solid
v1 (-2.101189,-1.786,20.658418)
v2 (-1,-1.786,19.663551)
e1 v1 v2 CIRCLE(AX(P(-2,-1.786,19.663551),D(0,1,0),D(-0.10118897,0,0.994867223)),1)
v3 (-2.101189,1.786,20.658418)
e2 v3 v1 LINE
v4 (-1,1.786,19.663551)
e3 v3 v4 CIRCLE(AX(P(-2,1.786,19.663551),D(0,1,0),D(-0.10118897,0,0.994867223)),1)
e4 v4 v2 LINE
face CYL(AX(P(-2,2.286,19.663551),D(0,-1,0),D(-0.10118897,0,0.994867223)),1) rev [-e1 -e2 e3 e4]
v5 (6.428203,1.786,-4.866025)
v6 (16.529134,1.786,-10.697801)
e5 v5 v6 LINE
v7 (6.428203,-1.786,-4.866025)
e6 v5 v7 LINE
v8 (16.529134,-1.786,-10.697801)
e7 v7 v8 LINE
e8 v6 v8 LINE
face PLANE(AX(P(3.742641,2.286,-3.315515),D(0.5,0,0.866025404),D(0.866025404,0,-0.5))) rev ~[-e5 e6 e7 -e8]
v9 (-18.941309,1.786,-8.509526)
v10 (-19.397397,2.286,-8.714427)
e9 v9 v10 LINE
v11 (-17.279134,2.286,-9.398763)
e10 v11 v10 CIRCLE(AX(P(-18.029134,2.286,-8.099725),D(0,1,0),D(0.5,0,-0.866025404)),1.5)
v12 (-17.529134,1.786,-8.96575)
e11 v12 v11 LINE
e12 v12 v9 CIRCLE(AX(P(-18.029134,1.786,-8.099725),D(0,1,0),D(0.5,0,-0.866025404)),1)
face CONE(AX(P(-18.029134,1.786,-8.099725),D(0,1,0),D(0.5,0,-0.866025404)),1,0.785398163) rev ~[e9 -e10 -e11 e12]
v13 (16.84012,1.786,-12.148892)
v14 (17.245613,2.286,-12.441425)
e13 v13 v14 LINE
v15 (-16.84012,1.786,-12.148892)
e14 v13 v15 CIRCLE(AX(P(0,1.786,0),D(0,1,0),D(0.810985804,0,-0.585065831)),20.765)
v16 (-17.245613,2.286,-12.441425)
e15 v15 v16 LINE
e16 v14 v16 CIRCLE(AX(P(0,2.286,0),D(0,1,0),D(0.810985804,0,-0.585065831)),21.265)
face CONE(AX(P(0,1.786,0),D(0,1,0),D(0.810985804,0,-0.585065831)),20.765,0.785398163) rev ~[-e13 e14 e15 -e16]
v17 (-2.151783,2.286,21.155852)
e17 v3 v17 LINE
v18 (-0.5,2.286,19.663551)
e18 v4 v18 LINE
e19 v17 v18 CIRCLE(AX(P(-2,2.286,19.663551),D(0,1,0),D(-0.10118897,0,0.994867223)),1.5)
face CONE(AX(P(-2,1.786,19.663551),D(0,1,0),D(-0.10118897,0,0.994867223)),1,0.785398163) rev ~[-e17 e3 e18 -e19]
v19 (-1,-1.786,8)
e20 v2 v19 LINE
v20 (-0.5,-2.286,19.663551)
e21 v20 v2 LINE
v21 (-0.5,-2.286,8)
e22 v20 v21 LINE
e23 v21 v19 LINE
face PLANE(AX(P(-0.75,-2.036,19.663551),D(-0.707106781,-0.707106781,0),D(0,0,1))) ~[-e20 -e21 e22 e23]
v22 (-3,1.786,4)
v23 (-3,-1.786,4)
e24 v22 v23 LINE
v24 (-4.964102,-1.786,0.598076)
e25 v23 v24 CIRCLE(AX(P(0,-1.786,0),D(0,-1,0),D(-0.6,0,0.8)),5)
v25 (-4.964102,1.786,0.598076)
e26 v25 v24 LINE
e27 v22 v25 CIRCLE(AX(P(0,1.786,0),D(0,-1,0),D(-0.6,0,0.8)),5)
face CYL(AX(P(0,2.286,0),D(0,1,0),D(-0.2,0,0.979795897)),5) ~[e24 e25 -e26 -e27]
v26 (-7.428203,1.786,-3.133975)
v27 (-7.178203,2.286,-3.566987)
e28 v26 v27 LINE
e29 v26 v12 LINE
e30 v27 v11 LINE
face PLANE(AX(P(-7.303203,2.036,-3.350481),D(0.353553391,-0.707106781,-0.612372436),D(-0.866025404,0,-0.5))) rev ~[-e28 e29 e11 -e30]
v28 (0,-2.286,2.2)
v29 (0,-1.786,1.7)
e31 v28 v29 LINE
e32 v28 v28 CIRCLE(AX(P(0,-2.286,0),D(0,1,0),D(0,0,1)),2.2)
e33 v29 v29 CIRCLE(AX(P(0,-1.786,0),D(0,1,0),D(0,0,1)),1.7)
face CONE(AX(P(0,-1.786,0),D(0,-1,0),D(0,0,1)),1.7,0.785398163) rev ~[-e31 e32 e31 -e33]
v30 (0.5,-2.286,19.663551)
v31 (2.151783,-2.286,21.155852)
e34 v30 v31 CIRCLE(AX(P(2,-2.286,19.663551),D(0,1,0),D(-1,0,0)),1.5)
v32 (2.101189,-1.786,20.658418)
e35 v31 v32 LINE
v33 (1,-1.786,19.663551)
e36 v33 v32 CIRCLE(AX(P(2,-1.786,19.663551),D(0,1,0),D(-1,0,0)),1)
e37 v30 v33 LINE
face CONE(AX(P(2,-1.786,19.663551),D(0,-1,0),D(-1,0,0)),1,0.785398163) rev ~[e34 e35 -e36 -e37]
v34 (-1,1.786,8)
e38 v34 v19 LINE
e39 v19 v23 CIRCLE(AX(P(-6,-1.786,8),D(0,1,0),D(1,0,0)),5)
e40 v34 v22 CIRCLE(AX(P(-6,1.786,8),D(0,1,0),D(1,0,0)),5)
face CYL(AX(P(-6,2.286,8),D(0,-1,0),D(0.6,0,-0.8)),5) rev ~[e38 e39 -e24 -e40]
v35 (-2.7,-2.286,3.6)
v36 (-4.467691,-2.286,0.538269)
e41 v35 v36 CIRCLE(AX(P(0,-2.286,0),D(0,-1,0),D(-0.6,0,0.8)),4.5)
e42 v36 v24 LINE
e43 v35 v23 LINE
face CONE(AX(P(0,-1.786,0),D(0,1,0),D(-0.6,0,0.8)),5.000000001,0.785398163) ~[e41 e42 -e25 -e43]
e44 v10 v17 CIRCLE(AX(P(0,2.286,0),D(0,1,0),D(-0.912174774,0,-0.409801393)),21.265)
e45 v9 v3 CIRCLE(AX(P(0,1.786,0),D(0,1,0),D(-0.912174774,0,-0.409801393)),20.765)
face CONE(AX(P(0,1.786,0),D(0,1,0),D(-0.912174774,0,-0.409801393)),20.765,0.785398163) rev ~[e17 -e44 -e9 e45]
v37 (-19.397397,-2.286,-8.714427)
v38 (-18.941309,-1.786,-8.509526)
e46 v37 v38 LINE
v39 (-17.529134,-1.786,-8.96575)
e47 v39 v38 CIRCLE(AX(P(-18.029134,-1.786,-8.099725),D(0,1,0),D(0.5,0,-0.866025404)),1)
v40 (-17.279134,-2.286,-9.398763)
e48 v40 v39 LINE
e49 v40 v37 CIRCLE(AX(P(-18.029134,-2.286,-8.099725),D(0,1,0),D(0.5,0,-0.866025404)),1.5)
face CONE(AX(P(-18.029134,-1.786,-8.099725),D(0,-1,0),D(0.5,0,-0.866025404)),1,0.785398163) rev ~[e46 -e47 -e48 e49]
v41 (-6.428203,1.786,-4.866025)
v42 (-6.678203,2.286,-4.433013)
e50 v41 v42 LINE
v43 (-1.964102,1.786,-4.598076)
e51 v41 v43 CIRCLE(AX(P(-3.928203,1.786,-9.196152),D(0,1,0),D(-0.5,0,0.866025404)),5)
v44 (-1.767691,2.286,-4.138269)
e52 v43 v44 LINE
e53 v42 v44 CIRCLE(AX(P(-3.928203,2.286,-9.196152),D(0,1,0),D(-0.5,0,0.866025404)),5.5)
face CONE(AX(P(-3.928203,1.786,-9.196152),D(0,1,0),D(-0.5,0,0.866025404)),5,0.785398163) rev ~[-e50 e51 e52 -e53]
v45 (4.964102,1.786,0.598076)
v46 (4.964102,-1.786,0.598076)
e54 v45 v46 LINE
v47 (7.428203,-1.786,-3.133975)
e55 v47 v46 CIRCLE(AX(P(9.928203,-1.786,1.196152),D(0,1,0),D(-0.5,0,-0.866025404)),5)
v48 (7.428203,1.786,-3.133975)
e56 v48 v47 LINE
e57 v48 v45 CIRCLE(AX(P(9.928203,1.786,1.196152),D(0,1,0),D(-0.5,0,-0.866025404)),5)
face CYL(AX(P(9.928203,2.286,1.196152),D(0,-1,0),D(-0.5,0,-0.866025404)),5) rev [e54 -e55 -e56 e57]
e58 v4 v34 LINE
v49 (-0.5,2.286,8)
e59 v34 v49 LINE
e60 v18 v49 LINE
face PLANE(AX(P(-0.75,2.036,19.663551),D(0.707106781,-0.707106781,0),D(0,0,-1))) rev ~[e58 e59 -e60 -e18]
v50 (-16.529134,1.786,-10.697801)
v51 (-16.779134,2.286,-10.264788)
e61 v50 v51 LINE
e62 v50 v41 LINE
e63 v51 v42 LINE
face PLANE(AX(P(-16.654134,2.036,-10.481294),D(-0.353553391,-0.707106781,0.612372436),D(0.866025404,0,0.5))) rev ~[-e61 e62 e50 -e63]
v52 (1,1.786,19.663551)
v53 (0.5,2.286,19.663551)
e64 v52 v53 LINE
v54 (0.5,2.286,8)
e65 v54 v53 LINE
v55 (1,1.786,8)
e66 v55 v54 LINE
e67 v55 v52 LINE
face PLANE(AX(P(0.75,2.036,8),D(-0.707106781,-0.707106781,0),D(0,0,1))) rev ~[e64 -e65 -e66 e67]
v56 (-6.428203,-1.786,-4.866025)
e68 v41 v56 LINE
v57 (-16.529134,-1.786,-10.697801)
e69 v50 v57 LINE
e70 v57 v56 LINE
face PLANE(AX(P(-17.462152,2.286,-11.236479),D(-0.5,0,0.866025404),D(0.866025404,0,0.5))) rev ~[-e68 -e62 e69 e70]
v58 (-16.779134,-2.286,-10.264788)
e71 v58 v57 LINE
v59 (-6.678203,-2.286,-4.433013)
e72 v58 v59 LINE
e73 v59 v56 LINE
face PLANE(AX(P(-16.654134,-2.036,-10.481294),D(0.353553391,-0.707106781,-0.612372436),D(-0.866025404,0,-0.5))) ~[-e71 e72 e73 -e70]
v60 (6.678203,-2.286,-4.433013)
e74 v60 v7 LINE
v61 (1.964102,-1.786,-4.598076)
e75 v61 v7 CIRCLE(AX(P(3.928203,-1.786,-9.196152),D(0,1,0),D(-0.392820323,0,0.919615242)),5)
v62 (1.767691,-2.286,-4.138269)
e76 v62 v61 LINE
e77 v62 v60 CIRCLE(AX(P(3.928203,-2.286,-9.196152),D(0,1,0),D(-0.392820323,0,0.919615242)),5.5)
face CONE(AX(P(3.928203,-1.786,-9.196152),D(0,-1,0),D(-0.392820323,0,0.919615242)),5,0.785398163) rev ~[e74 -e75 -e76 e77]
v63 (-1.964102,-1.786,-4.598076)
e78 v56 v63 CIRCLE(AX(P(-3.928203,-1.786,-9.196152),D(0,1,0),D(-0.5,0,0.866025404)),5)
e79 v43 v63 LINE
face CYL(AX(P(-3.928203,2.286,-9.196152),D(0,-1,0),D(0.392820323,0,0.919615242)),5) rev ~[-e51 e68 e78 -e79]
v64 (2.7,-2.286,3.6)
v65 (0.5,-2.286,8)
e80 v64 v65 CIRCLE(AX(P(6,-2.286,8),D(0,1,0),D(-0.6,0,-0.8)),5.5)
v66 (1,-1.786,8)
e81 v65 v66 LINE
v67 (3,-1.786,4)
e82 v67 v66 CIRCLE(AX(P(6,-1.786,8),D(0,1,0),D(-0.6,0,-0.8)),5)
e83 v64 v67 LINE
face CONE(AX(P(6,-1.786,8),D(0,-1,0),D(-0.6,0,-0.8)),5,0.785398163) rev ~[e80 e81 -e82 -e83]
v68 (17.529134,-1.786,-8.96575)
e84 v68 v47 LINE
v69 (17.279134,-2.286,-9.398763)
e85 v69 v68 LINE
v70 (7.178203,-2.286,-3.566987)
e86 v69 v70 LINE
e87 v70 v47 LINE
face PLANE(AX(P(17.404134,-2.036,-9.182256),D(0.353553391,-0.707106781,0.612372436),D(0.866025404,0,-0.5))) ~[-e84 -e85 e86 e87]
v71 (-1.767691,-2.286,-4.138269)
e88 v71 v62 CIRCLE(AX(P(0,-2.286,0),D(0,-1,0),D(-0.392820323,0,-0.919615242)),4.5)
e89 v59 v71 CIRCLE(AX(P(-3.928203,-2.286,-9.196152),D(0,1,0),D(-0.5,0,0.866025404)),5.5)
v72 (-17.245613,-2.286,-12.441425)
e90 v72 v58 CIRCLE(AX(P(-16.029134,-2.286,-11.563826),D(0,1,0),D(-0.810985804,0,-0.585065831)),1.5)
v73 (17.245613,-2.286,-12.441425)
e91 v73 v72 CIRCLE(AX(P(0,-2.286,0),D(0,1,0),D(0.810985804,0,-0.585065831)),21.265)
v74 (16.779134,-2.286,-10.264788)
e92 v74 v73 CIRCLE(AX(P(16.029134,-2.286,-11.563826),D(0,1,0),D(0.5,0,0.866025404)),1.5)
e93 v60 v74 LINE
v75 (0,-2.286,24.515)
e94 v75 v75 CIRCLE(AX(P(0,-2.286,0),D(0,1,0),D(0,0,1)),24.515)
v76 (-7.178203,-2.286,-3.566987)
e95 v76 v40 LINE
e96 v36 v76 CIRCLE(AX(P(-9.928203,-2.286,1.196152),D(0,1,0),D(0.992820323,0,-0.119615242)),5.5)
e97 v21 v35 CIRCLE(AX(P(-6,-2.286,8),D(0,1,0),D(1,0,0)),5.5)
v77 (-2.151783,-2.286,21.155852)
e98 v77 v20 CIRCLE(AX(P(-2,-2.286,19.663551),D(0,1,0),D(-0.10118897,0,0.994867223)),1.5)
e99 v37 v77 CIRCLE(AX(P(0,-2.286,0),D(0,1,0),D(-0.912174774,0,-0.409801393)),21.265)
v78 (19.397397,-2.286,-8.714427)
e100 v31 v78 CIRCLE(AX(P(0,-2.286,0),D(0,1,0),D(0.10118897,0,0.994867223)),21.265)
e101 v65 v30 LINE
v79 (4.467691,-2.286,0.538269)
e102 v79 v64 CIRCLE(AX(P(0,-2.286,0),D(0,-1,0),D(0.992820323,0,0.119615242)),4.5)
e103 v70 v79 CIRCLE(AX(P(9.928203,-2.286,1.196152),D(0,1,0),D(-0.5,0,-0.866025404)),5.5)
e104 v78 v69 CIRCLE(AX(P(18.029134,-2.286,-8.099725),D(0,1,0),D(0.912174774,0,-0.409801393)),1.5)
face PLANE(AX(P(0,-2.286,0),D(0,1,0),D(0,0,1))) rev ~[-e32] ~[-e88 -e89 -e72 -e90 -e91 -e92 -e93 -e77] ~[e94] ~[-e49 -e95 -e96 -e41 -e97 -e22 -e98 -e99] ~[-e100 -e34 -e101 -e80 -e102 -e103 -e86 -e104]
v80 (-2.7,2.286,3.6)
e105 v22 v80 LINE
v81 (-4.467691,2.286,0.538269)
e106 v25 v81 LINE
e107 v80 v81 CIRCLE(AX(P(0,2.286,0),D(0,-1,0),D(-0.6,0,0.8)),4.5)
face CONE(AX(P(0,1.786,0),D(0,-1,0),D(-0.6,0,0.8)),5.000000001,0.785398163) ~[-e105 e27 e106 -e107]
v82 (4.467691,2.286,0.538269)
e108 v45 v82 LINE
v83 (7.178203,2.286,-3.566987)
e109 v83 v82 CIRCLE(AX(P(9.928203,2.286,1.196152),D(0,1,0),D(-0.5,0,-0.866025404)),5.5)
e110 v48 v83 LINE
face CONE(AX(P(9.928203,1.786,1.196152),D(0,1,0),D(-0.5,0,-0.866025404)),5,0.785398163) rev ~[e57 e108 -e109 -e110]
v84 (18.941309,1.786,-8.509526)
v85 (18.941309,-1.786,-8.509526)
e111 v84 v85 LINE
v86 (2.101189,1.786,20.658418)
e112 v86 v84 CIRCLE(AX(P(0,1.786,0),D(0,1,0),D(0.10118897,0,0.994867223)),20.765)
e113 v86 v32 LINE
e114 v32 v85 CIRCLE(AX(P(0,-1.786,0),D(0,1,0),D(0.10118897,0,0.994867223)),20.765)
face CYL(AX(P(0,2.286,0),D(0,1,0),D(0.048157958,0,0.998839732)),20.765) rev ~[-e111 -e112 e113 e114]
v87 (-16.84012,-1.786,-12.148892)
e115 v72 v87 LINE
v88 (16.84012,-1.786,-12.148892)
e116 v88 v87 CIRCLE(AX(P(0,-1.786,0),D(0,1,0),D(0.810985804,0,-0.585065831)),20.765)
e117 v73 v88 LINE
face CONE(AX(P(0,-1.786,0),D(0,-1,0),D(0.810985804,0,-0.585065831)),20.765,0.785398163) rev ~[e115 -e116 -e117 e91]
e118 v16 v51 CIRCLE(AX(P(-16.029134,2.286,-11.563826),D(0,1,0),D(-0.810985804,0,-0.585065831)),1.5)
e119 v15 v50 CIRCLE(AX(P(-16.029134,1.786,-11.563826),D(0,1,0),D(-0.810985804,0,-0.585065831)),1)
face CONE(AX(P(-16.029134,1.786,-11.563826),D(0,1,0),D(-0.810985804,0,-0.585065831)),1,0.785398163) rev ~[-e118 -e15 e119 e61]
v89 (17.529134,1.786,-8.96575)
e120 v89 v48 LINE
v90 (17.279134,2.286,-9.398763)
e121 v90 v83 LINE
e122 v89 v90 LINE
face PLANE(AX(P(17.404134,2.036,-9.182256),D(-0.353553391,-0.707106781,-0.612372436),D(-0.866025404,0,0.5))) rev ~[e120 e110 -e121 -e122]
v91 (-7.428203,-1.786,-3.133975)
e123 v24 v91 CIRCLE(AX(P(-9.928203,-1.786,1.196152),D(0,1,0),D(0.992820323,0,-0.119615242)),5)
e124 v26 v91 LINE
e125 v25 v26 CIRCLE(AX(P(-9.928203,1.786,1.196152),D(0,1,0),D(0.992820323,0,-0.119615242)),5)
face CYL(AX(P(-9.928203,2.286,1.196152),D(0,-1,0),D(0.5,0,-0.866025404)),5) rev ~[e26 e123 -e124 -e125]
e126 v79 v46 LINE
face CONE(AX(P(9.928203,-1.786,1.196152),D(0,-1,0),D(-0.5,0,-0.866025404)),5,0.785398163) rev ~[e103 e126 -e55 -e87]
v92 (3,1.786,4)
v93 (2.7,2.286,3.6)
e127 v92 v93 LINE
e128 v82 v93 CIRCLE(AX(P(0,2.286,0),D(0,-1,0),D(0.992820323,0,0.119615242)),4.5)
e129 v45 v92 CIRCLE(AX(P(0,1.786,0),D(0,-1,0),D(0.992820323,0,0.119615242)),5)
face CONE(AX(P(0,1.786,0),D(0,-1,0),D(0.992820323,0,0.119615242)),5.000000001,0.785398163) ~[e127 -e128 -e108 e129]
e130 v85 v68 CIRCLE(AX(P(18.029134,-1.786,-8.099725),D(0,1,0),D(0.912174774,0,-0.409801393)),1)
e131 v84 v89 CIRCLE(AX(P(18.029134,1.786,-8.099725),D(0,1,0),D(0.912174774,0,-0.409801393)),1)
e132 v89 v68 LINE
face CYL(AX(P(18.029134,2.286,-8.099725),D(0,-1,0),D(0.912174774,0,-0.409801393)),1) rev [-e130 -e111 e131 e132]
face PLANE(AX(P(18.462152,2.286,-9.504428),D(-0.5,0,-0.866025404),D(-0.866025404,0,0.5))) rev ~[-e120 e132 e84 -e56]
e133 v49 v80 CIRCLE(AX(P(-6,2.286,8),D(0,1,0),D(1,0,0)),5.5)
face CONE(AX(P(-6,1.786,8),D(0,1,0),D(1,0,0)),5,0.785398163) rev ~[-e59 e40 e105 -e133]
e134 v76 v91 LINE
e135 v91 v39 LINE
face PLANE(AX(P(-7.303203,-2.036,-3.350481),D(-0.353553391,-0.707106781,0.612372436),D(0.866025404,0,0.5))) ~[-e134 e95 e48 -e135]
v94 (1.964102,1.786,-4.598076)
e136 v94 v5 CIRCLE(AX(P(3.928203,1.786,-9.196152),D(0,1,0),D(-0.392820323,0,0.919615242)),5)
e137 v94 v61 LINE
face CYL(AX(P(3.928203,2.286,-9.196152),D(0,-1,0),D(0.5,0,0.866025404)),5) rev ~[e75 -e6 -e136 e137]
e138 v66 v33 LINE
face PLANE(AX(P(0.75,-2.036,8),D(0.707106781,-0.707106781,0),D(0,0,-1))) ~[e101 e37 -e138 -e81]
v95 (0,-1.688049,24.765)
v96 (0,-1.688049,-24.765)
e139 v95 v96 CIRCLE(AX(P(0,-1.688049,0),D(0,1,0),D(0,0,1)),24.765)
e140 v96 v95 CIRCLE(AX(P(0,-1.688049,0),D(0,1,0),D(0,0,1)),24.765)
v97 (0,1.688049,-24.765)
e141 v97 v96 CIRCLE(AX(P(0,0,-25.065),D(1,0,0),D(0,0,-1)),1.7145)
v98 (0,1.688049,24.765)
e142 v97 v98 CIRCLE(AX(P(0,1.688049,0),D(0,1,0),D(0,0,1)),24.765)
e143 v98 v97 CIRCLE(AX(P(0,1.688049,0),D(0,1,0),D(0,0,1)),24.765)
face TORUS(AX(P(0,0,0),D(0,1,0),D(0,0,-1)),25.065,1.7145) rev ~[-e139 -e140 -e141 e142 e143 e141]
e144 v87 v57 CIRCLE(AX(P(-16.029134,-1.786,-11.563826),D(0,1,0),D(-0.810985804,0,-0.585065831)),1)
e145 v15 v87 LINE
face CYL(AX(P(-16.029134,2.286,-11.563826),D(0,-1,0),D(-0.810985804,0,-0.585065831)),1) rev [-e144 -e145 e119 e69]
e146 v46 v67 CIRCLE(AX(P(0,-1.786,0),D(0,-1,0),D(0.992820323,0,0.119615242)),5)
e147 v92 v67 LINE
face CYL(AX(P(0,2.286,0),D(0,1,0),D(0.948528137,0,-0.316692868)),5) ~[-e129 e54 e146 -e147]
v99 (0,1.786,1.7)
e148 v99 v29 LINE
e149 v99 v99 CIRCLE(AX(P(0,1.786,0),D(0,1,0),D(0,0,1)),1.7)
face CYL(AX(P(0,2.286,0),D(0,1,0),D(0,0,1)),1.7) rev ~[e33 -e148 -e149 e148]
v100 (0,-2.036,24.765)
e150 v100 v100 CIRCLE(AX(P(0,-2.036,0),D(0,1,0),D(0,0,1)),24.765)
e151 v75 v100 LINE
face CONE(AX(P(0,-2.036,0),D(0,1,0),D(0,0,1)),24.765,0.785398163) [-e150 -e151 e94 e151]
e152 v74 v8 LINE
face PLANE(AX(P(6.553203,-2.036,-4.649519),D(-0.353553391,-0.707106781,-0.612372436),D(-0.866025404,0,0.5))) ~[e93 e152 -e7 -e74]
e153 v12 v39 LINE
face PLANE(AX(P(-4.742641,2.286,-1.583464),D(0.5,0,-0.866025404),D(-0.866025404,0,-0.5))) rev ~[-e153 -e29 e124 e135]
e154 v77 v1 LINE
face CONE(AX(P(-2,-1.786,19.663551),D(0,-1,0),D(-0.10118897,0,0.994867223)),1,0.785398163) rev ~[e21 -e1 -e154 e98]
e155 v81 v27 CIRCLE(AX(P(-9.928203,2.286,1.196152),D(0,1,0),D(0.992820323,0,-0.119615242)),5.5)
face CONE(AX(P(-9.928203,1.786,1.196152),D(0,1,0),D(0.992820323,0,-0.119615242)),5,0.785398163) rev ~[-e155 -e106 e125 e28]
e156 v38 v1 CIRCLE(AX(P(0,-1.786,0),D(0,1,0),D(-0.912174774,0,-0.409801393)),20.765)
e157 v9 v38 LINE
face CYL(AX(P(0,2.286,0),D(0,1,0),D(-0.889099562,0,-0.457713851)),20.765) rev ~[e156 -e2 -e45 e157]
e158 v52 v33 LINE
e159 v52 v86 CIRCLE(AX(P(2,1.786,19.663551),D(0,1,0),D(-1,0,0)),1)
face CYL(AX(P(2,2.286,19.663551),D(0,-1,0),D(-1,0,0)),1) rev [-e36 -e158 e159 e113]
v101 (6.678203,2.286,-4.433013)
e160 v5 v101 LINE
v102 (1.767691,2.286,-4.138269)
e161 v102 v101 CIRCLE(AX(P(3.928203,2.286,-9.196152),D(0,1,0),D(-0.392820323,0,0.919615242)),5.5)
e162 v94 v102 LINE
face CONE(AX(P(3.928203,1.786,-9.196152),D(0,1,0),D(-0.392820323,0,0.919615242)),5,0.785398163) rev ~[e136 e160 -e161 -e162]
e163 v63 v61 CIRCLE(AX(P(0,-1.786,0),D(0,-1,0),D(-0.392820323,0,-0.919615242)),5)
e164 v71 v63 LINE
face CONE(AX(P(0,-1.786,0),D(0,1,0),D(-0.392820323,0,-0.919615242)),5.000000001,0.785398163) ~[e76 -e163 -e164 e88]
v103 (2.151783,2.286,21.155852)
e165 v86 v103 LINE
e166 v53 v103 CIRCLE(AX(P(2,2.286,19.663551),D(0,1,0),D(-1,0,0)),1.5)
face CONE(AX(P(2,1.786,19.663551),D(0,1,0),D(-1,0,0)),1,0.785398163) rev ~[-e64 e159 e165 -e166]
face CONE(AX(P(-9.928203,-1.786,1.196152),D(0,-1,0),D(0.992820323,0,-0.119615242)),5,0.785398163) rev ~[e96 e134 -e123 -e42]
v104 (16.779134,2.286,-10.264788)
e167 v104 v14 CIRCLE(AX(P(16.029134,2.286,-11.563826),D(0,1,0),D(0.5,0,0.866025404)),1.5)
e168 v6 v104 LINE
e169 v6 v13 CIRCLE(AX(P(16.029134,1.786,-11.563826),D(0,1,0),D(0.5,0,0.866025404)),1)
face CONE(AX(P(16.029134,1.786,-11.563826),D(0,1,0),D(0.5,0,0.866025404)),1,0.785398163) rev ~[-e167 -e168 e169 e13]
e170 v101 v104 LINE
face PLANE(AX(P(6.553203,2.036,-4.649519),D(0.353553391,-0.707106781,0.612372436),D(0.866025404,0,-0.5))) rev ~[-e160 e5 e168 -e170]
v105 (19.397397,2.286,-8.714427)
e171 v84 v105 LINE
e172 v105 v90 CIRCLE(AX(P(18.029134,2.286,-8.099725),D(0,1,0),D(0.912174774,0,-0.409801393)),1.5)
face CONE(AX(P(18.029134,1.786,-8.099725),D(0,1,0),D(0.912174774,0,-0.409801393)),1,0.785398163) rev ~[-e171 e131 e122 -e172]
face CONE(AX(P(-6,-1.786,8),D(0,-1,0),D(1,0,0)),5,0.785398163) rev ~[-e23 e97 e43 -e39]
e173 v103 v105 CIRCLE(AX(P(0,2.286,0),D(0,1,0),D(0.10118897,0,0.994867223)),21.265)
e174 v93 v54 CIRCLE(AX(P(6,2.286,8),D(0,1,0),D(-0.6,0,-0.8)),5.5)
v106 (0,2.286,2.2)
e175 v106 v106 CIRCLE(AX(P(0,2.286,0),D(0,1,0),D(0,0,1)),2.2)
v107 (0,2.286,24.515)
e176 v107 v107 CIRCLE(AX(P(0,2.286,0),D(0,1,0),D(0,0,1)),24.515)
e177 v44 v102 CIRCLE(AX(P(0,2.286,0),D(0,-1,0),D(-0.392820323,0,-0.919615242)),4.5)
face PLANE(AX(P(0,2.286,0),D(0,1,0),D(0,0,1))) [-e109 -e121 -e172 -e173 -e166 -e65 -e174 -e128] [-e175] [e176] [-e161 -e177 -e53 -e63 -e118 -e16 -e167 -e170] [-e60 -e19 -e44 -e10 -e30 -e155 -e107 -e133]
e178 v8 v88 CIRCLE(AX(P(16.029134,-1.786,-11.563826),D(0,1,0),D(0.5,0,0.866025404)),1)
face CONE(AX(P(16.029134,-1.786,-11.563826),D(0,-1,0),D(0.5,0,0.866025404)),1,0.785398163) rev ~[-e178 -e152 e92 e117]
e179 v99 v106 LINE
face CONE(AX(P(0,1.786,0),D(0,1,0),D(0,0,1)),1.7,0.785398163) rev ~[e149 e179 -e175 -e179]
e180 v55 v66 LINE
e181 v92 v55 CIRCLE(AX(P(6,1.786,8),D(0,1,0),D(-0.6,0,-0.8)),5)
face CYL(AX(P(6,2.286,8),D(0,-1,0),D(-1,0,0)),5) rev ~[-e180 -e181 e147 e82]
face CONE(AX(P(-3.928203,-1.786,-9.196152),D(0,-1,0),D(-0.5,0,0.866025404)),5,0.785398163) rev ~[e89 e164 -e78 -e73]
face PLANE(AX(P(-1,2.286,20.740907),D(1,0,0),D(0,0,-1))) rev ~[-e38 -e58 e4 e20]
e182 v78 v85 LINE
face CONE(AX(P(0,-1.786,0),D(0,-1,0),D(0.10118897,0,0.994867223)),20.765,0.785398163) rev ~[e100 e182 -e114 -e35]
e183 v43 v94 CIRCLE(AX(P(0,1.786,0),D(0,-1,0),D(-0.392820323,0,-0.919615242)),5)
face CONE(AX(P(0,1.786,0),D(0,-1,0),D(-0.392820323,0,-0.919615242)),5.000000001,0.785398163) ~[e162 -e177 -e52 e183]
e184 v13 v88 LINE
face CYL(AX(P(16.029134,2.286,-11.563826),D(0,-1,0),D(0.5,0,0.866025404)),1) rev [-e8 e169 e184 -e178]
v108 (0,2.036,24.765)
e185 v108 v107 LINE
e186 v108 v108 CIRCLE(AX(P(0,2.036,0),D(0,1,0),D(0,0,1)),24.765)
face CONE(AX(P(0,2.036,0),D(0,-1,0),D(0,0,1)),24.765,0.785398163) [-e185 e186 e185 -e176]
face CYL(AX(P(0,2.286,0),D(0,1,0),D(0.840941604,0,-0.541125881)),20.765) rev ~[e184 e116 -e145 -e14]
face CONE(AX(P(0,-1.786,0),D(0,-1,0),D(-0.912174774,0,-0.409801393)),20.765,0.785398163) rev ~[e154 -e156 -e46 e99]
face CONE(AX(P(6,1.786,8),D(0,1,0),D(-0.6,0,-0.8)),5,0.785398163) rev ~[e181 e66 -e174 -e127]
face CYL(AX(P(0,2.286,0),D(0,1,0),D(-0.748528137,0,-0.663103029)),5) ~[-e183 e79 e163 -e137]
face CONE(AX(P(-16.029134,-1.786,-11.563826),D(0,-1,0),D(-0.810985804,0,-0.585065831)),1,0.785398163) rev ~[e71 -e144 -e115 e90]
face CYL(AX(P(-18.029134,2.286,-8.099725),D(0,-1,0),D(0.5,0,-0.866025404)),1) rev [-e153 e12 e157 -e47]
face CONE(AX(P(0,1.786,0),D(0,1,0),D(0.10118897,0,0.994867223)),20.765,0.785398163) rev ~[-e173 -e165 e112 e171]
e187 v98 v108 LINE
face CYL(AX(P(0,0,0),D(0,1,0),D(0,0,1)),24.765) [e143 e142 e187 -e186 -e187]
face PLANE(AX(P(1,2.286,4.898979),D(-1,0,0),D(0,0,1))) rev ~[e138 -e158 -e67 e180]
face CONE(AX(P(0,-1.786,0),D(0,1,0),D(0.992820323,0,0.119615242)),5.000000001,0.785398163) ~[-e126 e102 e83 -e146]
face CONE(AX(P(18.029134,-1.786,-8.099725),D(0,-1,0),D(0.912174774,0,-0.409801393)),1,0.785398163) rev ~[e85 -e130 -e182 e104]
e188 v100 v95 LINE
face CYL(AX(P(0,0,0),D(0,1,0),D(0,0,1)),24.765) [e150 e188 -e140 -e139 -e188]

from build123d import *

# Parameters (mm, degrees)
SKETCH1_R           = 24.765
BOSS_EXTRUDE1_DEPTH = 2.286
SKETCH2_R           = 1.7145
SKETCH3_R           = 1.7
CUT_EXTRUDE1_DEPTH  = 36.320159031
CUT_EXTRUDE2_DEPTH  = 36.320159031
CIRPATTERN1_COUNT   = 3
FILLET1_R           = 5
FILLET4_R           = 1
CHAMFER1_SIZE       = 0.5
CHAMFER2_SIZE       = 0.5
CHAMFER3_SIZE       = 0.25


with BuildPart() as part:
    # Sketch1 → Boss-Extrude1 (new, symmetric)
    with BuildSketch(Plane(origin=(0, 0, 0), x_dir=(1, 0, 0), z_dir=(0, 1, 0))):
        with Locations(Location((0, 0, 0), (0, 0, 270))):
            Circle(SKETCH1_R)
    extrude(amount=BOSS_EXTRUDE1_DEPTH, both=True)

    # Sketch2 → Cut-Revolve1 (revolve, cut)
    with BuildSketch(Plane(origin=(0, 0, 0), x_dir=(0, 0, -1), z_dir=(1, 0, 0))):
        with Locations((25.065, 0)):
            Circle(SKETCH2_R)
    revolve(axis=Axis((0, 0, 0), (0, 1, 0)), mode=Mode.SUBTRACT)

    # Sketch3 → Cut-Extrude1 (cut, through all)
    with BuildSketch(Plane(origin=(0, 2.286, 0), x_dir=(1, 0, 0), z_dir=(0, 1, 0))):
        with Locations(Location((0, 0, 0), (0, 0, 270))):
            Circle(SKETCH3_R)
    extrude(amount=-CUT_EXTRUDE1_DEPTH, mode=Mode.SUBTRACT)

    # Sketch4 → Cut-Extrude2 (cut, through all)
    with BuildSketch(Plane(origin=(0, 2.286, 0), x_dir=(1, 0, 0), z_dir=(0, 1, 0))):
        with BuildLine():
            Line((3.742640687, 3.315515147), (17.462152397, 11.236478926))
            ThreePointArc((17.462152397, 11.236478926), (0, 20.765), (-17.462152397, 11.236478926))
            Line((-17.462152397, 11.236478926), (-3.742640687, 3.315515147))
            ThreePointArc((-3.742640687, 3.315515147), (0, 5), (3.742640687, 3.315515147))
        make_face()
    cut_extrude2 = extrude(amount=-CUT_EXTRUDE2_DEPTH, mode=Mode.SUBTRACT)

    # CirPattern1: Cut-Extrude2 ×3 about axis
    cirpattern1_axis = Axis((0, 0, 0), (0, 1, 0))
    for i in range(1, CIRPATTERN1_COUNT):
        add(cut_extrude2.rotate(cirpattern1_axis, i * 360 / CIRPATTERN1_COUNT), mode=Mode.SUBTRACT)

    # Fillet1
    fillet1_edges = [part.edges().sort_by_distance(p)[0] for p in [
        (3.742640687, 0, -3.315515147),
        (-3.742640687, 0, -3.315515147),
        (1, 0, 4.898979486),
        (4.742640687, 0, -1.583464339),
        (-4.742640687, 0, -1.583464339),
        (-1, 0, 4.898979486),
    ]]
    fillet(fillet1_edges, radius=FILLET1_R)

    # Fillet4
    fillet4_edges = [part.edges().sort_by_distance(p)[0] for p in [
        (-17.462152397, 0, -11.236478926),
        (17.462152397, 0, -11.236478926),
        (18.462152397, 0, -9.504428118),
        (1, 0, 20.740907044),
        (-1, 0, 20.740907044),
        (-18.462152397, 0, -9.504428118),
    ]]
    fillet(fillet4_edges, radius=FILLET4_R)

    # Chamfer1
    chamfer1_edges = [part.edges().sort_by_distance(p)[0] for p in [
        (0, -2.286, -1.7),
        (0, 2.286, -1.7),
    ]]
    chamfer(chamfer1_edges, length=CHAMFER1_SIZE)

    # Chamfer2
    chamfer2_edges = [part.edges().sort_by_distance(p)[0] for p in [
        (-17.98301751, 2.286, 10.3825),
        (-17.98301751, -2.286, 10.3825),
        (-11.47866882, 2.286, -7.781913072),
        (-11.47866882, -2.286, -7.781913072),
        (-1, 2.286, 13.831775336),
        (-1, -2.286, 13.831775336),
        (17.006931622, 2.286, -11.354272778),
        (17.006931622, -2.286, -11.354272778),
        (18.336554478, 2.286, -9.051298436),
        (18.336554478, -2.286, -9.051298436),
        (-18.336554478, 2.286, -9.051298436),
        (-18.336554478, -2.286, -9.051298436),
        (-17.006931622, 2.286, -11.354272778),
        (-17.006931622, -2.286, -11.354272778),
        (1.329622856, 2.286, 20.405571214),
        (1.329622856, -2.286, 20.405571214),
        (-1.329622856, 2.286, 20.405571214),
        (-1.329622856, -2.286, 20.405571214),
        (11.47866882, 2.286, -7.781913072),
        (11.47866882, -2.286, -7.781913072),
        (0, 2.286, -5),
        (0, -2.286, -5),
        (4.330127019, 2.286, 2.5),
        (4.330127019, -2.286, 2.5),
        (1, 2.286, 13.831775336),
        (1, -2.286, 13.831775336),
        (-4.330127019, 2.286, 2.5),
        (-4.330127019, -2.286, 2.5),
        (-12.47866882, 2.286, -6.049862264),
        (-12.47866882, -2.286, -6.049862264),
        (4.227779535, 2.286, -4.205135088),
        (4.227779535, -2.286, -4.205135088),
        (-4.227779535, 2.286, -4.205135088),
        (-4.227779535, -2.286, -4.205135088),
        (5.75564358, 2.286, -1.558796935),
        (5.75564358, -2.286, -1.558796935),
        (1.527864045, 2.286, 5.763932023),
        (1.527864045, -2.286, 5.763932023),
        (-1.527864045, 2.286, 5.763932023),
        (-1.527864045, -2.286, 5.763932023),
        (-5.75564358, 2.286, -1.558796935),
        (-5.75564358, -2.286, -1.558796935),
        (0, 2.286, -20.765),
        (0, -2.286, -20.765),
        (12.47866882, 2.286, -6.049862264),
        (12.47866882, -2.286, -6.049862264),
        (17.98301751, 2.286, 10.3825),
        (17.98301751, -2.286, 10.3825),
    ]]
    chamfer(chamfer2_edges, length=CHAMFER2_SIZE)

    # Chamfer3
    chamfer3_edges = [part.edges().sort_by_distance(p)[0] for p in [
        (0, -2.286, -24.765),
        (0, 2.286, -24.765),
    ]]
    chamfer(chamfer3_edges, length=CHAMFER3_SIZE)


solid = part.part
